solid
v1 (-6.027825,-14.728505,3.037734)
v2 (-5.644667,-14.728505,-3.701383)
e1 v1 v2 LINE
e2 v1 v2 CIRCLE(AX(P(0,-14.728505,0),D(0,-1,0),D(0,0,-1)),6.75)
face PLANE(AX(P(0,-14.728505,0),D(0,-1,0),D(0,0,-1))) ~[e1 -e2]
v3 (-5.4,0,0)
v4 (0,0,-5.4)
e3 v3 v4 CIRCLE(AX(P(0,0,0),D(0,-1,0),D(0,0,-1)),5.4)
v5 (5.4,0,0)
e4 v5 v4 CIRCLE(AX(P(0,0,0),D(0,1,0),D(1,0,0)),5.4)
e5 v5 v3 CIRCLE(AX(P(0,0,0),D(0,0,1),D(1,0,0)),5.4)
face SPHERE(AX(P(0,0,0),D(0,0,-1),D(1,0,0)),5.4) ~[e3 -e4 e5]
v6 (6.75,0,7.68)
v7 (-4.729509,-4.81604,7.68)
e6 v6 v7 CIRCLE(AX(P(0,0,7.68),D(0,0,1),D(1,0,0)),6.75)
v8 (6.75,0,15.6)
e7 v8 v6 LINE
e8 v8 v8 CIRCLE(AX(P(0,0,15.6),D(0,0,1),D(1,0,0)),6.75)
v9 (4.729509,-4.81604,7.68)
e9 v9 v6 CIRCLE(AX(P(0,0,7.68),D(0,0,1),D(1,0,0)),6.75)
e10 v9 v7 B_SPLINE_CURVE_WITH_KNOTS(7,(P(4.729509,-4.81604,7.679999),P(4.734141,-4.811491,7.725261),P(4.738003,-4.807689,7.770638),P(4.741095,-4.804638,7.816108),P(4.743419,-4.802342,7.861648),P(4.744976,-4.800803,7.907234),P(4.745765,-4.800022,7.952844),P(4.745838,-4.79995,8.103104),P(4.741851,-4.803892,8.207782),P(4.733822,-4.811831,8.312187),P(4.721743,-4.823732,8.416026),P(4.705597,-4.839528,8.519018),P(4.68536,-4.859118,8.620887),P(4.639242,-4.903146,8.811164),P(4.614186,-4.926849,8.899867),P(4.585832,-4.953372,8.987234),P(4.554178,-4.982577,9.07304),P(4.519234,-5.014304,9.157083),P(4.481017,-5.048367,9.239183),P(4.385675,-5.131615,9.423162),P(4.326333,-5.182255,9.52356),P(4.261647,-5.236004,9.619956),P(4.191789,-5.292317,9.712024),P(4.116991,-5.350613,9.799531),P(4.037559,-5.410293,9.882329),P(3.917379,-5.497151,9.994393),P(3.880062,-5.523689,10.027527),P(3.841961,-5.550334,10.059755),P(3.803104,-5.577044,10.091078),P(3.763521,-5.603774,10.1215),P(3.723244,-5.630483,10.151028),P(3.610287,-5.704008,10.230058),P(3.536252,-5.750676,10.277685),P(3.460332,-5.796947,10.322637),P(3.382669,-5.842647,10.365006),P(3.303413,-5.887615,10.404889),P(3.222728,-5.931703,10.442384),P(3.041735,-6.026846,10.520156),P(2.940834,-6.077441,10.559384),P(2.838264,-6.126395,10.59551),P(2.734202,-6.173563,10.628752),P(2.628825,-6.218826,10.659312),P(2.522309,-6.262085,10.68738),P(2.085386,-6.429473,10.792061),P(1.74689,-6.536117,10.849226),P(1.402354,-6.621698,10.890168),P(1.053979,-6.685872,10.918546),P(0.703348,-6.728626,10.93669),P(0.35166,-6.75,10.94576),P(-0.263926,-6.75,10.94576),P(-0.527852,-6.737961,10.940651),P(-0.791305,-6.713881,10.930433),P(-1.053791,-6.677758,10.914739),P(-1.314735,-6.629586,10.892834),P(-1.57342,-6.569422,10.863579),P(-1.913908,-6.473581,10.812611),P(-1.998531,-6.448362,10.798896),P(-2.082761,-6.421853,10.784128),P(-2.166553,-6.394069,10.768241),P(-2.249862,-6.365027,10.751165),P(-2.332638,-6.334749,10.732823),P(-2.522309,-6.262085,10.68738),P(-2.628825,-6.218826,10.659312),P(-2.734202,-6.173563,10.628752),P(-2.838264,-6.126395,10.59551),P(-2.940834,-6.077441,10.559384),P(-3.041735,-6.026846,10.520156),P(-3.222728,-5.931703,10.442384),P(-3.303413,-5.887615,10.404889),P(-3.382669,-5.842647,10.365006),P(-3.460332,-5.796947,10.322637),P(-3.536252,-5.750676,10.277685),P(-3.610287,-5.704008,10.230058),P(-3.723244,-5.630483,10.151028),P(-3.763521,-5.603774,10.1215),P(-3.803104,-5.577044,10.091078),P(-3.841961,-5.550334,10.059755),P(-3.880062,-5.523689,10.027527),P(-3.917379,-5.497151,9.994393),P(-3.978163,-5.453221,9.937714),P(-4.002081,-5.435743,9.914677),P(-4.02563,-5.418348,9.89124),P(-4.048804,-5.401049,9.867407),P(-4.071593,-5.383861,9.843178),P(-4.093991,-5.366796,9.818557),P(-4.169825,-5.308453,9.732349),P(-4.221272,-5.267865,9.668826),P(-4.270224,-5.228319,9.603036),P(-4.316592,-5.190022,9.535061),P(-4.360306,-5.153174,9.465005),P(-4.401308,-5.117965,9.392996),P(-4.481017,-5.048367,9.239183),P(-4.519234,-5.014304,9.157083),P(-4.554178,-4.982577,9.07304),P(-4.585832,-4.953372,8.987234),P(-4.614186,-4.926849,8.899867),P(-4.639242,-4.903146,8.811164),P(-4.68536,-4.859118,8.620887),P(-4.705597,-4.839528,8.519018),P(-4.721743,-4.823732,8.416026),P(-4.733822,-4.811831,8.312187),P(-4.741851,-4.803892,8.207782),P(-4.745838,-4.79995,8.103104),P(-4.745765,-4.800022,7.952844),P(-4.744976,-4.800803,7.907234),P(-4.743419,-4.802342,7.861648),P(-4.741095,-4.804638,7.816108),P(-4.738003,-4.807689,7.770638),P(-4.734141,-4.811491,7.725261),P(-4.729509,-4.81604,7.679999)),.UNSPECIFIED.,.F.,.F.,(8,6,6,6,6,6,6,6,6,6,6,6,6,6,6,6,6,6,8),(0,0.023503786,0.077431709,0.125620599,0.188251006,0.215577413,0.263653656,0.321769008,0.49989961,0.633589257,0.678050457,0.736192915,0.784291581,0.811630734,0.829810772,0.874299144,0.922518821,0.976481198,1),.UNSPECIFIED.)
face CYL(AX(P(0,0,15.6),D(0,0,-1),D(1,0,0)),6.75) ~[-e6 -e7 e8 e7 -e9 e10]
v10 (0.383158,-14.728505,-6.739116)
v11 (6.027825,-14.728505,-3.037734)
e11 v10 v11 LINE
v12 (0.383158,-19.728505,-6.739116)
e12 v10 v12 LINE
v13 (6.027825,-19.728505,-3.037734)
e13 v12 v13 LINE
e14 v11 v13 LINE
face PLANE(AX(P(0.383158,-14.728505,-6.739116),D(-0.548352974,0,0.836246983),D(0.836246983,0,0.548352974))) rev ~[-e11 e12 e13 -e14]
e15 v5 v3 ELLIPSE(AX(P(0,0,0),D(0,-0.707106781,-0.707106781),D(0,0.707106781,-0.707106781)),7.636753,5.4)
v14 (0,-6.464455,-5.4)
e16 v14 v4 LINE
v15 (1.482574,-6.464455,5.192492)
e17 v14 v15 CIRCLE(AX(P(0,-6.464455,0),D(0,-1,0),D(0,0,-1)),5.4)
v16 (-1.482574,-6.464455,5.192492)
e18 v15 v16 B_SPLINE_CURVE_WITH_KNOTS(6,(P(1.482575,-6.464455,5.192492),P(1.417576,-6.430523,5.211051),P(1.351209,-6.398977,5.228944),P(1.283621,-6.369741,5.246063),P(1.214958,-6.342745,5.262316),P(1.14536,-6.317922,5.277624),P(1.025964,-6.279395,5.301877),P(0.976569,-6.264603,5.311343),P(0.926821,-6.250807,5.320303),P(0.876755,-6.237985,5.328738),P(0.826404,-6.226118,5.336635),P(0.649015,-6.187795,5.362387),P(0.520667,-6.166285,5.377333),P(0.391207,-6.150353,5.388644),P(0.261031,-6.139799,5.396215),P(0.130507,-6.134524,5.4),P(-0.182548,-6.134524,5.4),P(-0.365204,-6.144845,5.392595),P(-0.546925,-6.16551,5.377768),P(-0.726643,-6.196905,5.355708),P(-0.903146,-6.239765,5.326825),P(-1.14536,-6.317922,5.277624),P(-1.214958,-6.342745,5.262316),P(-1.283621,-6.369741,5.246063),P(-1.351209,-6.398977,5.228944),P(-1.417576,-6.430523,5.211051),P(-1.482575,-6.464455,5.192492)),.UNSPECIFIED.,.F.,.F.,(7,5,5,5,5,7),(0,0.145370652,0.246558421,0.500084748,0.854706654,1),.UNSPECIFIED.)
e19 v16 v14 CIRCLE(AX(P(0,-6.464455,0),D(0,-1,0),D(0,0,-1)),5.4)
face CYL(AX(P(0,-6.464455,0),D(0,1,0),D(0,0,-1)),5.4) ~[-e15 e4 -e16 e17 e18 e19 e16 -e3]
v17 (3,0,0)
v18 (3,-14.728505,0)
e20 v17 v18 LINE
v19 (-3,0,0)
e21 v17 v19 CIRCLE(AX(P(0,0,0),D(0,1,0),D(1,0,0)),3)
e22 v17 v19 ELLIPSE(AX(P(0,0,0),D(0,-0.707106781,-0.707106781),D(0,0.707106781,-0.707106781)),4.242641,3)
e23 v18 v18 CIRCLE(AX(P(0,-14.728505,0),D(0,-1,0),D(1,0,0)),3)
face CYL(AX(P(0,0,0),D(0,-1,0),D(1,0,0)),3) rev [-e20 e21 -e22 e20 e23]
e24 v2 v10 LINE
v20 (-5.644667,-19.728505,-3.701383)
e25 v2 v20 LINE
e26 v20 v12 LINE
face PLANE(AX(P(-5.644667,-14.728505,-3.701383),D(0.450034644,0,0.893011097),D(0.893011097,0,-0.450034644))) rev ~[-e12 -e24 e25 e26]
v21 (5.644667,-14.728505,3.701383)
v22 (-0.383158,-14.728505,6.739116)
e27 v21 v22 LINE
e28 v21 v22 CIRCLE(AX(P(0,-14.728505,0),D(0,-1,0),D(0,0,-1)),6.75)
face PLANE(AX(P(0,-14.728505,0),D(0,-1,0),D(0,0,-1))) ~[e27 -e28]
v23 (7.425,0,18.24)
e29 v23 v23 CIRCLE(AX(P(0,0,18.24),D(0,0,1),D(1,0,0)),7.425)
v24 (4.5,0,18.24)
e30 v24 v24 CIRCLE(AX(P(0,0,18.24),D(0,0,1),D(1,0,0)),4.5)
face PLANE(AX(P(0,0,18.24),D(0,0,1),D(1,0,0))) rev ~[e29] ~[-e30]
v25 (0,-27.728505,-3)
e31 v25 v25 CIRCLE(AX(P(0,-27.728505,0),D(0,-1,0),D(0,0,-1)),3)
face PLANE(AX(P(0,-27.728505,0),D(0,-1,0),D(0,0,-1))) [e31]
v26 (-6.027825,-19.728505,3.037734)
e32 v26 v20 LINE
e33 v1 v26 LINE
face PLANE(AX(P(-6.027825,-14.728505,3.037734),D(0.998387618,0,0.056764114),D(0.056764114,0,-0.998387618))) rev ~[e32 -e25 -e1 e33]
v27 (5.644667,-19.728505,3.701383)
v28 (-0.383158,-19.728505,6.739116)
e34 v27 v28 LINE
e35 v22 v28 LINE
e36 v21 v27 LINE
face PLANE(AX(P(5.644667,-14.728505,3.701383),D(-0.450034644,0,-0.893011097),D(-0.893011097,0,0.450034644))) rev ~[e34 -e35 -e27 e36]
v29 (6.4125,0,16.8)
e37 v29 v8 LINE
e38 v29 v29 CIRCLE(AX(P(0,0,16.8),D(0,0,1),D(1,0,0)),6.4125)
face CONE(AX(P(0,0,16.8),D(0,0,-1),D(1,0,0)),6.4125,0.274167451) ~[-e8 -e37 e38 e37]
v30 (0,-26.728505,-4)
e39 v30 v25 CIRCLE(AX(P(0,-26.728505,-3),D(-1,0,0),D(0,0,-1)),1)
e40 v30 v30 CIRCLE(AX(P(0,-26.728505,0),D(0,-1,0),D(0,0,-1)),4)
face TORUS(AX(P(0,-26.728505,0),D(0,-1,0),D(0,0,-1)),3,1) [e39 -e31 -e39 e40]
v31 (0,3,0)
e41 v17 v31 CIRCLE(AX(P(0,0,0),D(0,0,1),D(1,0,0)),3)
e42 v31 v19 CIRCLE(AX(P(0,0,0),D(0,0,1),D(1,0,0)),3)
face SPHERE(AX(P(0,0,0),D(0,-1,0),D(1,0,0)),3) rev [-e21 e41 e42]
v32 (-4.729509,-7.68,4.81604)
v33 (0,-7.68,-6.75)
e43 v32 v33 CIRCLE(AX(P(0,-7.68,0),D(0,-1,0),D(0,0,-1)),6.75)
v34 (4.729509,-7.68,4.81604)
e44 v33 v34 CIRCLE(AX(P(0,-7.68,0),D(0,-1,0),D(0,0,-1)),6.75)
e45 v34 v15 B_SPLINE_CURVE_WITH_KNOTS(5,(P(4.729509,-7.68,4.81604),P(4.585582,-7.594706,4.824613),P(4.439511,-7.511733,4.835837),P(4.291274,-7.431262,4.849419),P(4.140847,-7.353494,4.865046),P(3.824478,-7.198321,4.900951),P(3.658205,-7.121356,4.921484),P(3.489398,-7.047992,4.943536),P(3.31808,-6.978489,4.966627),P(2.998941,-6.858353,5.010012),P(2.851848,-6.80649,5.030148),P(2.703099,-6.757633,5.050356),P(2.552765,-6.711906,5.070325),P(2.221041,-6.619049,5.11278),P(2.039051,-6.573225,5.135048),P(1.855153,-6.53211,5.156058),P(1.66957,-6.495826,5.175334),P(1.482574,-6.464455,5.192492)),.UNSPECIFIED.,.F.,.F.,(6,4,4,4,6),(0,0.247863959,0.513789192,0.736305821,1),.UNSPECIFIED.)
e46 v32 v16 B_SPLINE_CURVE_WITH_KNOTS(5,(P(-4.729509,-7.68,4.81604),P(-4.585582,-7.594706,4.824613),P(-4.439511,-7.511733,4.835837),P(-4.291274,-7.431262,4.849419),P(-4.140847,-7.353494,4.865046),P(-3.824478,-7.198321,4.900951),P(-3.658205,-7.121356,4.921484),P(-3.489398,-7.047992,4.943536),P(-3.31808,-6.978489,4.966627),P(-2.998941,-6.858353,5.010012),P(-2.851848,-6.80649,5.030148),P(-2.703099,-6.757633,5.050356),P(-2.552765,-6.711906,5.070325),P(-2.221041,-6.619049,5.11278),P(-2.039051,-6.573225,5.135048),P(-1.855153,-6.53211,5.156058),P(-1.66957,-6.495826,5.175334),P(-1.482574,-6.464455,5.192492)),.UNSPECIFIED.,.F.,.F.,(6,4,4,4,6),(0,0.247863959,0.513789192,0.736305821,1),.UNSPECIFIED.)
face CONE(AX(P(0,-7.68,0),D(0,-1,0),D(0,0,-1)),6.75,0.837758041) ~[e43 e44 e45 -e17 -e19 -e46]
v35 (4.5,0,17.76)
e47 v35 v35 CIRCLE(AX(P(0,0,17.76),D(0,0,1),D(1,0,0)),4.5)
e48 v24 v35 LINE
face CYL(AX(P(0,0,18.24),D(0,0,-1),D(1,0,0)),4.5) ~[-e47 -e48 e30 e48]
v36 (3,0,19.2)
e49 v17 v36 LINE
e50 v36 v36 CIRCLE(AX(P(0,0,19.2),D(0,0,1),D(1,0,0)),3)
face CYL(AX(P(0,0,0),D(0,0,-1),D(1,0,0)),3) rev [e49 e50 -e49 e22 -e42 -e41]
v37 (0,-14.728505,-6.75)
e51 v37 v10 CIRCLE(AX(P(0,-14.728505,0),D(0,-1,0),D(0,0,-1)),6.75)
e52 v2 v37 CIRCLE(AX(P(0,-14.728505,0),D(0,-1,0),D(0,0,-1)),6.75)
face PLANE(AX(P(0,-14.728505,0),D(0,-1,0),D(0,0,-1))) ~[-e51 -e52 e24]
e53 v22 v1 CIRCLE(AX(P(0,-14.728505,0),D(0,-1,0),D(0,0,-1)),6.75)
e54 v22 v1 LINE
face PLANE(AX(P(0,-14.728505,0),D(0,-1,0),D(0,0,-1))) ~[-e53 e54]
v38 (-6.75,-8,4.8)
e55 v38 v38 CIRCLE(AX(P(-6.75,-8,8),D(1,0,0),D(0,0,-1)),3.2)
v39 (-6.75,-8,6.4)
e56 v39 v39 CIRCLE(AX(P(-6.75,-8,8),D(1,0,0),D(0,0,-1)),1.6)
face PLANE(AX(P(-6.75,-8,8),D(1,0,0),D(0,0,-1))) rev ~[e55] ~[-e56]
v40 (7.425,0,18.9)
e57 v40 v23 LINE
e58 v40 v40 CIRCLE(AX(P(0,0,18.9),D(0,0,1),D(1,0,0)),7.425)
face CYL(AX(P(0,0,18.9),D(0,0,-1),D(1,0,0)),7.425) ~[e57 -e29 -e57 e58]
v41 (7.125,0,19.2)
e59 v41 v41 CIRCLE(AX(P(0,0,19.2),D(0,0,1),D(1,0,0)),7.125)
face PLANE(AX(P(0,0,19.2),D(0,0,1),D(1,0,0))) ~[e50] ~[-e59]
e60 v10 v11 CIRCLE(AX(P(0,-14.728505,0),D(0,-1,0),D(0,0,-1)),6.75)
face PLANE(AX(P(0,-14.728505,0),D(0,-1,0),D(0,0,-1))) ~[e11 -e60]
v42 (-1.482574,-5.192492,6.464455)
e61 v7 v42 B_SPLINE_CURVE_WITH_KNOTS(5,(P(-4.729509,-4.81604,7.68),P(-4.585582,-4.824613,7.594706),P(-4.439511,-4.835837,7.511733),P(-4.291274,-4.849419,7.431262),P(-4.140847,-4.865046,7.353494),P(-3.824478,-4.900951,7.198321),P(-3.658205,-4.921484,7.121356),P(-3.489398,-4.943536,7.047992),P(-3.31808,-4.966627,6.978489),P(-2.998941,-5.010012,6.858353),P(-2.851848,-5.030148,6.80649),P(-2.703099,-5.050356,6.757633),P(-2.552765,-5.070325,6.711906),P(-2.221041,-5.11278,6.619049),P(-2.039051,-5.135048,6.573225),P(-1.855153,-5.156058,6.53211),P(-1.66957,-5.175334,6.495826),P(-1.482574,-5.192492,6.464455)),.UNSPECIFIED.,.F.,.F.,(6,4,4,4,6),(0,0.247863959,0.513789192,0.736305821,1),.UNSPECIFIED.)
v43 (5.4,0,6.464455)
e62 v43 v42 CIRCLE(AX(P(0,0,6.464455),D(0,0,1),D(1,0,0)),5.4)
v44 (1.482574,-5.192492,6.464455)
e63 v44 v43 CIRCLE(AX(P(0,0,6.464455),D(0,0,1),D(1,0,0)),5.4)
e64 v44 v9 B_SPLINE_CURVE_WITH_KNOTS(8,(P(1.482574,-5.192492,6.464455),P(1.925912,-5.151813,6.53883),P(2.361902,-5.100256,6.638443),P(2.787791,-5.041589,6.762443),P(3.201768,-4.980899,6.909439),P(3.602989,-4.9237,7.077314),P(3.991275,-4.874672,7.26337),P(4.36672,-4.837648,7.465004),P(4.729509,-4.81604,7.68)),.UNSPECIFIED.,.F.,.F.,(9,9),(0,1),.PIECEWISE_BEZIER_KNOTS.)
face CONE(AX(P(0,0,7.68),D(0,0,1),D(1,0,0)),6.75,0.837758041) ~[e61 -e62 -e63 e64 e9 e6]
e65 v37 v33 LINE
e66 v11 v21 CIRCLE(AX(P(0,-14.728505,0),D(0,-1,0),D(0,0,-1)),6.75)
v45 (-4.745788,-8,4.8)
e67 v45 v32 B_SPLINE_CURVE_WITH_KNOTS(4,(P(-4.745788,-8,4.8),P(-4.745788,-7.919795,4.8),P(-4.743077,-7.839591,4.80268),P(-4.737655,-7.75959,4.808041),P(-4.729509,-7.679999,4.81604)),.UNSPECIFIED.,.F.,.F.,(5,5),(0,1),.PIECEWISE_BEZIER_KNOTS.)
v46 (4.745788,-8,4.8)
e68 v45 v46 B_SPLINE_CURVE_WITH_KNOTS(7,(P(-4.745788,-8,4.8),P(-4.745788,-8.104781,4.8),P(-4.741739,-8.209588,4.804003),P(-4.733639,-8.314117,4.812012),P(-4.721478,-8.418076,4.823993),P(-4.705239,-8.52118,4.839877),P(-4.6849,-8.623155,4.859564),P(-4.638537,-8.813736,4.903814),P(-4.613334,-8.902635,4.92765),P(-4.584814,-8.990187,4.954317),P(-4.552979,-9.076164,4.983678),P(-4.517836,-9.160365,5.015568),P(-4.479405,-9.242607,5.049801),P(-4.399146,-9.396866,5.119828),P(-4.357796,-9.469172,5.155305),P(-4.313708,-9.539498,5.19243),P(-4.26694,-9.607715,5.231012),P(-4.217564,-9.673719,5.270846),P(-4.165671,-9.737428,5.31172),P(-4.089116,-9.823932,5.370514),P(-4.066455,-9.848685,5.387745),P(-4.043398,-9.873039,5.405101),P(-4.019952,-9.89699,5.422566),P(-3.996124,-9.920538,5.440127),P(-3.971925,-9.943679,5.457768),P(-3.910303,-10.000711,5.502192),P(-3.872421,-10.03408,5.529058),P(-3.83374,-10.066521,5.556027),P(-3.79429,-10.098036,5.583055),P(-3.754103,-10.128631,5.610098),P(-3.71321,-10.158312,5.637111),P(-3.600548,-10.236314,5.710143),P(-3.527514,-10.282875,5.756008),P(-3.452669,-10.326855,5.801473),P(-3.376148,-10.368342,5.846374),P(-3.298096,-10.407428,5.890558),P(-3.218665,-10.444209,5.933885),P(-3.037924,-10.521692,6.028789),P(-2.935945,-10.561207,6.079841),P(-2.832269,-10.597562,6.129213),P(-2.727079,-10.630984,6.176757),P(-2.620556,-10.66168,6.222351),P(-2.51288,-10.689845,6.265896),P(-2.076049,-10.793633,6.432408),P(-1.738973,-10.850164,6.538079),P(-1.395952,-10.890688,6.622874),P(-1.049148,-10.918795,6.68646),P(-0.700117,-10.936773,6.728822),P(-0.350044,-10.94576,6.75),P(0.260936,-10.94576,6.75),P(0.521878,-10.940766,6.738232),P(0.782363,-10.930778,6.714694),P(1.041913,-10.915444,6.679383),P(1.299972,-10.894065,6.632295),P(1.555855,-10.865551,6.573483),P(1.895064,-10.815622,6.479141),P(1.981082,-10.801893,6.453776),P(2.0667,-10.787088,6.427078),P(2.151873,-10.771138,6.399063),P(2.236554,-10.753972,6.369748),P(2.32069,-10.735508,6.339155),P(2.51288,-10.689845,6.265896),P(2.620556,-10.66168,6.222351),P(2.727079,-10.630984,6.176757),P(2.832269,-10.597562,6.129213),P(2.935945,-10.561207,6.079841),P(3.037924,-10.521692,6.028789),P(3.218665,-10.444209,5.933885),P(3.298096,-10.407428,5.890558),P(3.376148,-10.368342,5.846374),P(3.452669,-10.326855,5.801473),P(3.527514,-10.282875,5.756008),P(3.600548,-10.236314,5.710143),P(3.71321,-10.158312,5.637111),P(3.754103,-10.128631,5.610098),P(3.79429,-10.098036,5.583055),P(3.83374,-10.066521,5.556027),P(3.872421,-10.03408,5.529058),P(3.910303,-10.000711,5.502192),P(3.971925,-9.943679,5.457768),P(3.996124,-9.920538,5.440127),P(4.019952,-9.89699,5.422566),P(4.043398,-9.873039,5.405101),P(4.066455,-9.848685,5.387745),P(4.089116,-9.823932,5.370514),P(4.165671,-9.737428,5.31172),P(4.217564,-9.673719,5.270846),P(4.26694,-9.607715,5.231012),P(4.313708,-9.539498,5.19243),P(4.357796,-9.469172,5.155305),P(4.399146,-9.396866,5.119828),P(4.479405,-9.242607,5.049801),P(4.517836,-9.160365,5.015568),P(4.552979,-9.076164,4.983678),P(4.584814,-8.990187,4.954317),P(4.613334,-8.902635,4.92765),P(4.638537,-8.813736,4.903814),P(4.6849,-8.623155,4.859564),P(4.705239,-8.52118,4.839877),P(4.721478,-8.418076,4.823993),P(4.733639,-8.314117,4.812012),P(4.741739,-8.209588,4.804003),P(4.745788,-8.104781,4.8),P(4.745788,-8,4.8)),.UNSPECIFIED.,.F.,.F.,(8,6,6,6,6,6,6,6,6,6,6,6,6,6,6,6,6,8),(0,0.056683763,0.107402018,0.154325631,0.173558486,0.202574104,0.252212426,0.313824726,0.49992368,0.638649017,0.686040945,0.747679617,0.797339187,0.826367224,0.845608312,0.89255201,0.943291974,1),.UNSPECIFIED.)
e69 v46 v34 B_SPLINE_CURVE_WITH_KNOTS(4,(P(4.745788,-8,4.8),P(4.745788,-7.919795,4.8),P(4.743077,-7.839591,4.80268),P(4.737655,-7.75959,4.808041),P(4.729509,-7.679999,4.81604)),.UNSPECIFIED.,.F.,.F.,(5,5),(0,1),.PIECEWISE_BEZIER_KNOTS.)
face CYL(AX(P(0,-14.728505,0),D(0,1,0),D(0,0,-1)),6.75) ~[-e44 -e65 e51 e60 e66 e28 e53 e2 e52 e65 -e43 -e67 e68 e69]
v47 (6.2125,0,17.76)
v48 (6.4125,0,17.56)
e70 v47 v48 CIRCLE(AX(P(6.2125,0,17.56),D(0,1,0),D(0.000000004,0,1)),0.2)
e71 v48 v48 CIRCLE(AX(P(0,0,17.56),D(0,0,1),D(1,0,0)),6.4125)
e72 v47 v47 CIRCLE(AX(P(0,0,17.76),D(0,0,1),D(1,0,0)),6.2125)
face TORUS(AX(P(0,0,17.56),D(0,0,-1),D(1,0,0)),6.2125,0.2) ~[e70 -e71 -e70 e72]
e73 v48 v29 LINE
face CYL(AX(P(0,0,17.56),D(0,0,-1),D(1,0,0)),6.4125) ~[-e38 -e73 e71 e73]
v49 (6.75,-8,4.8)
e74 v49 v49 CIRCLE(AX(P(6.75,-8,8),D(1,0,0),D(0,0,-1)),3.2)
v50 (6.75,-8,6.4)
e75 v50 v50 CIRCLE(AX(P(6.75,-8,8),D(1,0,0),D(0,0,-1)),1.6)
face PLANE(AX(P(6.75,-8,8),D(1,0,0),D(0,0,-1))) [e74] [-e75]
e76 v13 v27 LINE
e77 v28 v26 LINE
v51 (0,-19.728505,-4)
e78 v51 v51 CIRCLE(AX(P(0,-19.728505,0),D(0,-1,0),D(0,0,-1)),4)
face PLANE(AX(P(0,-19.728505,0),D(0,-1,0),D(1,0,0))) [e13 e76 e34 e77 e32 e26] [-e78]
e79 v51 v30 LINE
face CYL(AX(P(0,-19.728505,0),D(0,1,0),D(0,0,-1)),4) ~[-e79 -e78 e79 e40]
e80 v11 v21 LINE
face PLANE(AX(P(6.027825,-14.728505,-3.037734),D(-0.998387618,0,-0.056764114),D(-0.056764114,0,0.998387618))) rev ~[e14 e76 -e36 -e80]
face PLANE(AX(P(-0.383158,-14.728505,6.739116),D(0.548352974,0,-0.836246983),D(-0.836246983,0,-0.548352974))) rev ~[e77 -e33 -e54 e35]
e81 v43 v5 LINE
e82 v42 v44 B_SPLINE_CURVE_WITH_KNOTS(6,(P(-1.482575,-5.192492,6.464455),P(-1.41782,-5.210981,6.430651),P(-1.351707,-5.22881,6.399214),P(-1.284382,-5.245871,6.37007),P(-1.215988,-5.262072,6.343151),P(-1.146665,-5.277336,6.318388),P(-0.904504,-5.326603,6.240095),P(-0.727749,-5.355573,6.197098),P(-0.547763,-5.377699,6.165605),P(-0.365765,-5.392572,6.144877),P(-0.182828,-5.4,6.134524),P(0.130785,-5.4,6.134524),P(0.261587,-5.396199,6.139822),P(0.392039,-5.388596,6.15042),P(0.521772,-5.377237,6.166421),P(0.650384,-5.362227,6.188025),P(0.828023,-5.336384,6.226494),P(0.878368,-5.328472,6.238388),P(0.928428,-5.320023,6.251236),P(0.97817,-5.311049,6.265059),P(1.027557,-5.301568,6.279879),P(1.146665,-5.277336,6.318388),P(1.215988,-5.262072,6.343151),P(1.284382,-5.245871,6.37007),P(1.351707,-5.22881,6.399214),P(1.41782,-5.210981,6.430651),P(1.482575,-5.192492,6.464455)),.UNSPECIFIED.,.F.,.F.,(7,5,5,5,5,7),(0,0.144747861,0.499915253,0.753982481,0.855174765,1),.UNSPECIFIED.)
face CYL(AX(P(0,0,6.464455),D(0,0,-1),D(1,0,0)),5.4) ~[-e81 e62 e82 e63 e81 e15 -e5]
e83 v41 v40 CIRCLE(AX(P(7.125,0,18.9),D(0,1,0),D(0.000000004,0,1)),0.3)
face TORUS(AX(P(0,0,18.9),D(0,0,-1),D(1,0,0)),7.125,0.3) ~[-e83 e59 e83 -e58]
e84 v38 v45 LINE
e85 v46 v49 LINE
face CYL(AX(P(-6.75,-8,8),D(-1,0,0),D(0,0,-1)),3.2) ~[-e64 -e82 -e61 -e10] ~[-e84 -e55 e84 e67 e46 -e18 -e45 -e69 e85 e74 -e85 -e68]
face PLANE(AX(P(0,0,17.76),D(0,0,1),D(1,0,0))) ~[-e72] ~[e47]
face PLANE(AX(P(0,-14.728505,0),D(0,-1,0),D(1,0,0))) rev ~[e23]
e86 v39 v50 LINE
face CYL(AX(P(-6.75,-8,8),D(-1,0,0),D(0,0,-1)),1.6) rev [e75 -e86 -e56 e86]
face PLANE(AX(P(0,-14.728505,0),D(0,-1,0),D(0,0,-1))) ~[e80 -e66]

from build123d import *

# Parameters (mm, degrees)
SKETCH_3_R               = 3
CUT_EXTRUDE_1_DEPTH      = 19.2
EXTRUDE_1_DEPTH          = 6.75
EXTRUDE_1_DEPTH_BACK     = 6.75
SKETCH_5_R               = 3.2
CUT_EXTRUDE_2_DEPTH      = 6.75
CUT_EXTRUDE_2_DEPTH_BACK = 6.75
SKETCH_6_R               = 1.6
EXTRUDE_2_DEPTH          = 5
SKETCH_8_R               = 4
EXTRUDE_3_DEPTH          = 8
FILLET_1_R               = 1


with BuildPart() as part:
    # 草图1 → 旋转1 (revolve)
    with BuildSketch(Plane(origin=(0, 0, 0), x_dir=(0, 0, -1), z_dir=(1, 0, 0))):
        with BuildLine():
            Line((-19.2, 0), (-19.2, 7.125))
            ThreePointArc((-19.2, 7.125), (-19.112132034, 7.337132034), (-18.9, 7.425))
            Line((-18.9, 7.425), (-18.24, 7.425))
            Line((-18.24, 7.425), (-18.24, 4.5))
            Line((-18.24, 4.5), (-17.76, 4.5))
            Line((-17.76, 4.5), (-17.76, 6.2125))
            ThreePointArc((-17.76, 6.2125), (-17.701421356, 6.353921356), (-17.56, 6.4125))
            Line((-17.56, 6.4125), (-16.8, 6.4125))
            Line((-16.8, 6.4125), (-15.6, 6.75))
            Line((-15.6, 6.75), (-7.68, 6.75))
            Line((-7.68, 6.75), (-6.46445454, 5.4))
            Line((-6.46445454, 5.4), (0, 5.4))
            ThreePointArc((0, 5.4), (3.818376618, 3.818376618), (5.4, 0))
            Line((5.4, 0), (-19.2, 0))
        make_face()
    revolve(axis=Axis((0, 0, -5.4), (0, 0, 1)))

    # 草图2 → 旋转2 (revolve)
    with BuildSketch(Plane(origin=(0, 0, 0), x_dir=(0, 0, -1), z_dir=(1, 0, 0))):
        Polygon((-6.75, -14.728504785), (-6.75, -7.68), (-5.4, -6.46445454), (-5.4, 0), (0, 0), (0, -14.728504785), align=None)
    revolve(axis=Axis((0, 0, 0), (0, -1, 0)))

    # 草图3 → 切除-拉伸1 (cut)
    with BuildSketch(Plane.XY):
        Circle(SKETCH_3_R)
    extrude(amount=CUT_EXTRUDE_1_DEPTH, mode=Mode.SUBTRACT)

    # 草图5 → 凸台-拉伸1 (add, two sides: drawn at the far end of the back side and taken through both)
    with BuildSketch(Plane(origin=(0, 0, 0), x_dir=(0, 0, -1), z_dir=(1, 0, 0)).offset(-EXTRUDE_1_DEPTH_BACK)):
        with Locations((-8, -8)):
            Circle(SKETCH_5_R)
    extrude(amount=EXTRUDE_1_DEPTH + EXTRUDE_1_DEPTH_BACK)

    # 草图6 → 切除-拉伸2 (cut, two sides: drawn at the far end of the back side and taken through both)
    with BuildSketch(Plane(origin=(0, 0, 0), x_dir=(0, 0, -1), z_dir=(1, 0, 0)).offset(-CUT_EXTRUDE_2_DEPTH_BACK)):
        with Locations((-8, -8)):
            Circle(SKETCH_6_R)
    extrude(amount=CUT_EXTRUDE_2_DEPTH + CUT_EXTRUDE_2_DEPTH_BACK, mode=Mode.SUBTRACT)

    # 草图4 → 切除-旋转1 (revolve, cut)
    with BuildSketch(Plane(origin=(0, 0, 0), x_dir=(0, 0, -1), z_dir=(1, 0, 0))):
        with BuildLine():
            Line((3, 0), (3, -39.2))
            Line((3, -39.2), (0, -39.2))
            Line((0, -39.2), (0, 3))
            ThreePointArc((0, 3), (2.121320344, 2.121320344), (3, 0))
        make_face()
    revolve(axis=Axis((0, -19.2, 0), (0, 1, 0)), mode=Mode.SUBTRACT)

    # 草图7 → 凸台-拉伸2 (add)
    with BuildSketch(Plane.XZ.offset(14.728504785)):
        Polygon((-5.644667133, -3.701382574), (0.383157772, -6.73911642), (6.027824905, -3.037733846), (5.644667133, 3.701382574), (-0.383157772, 6.73911642), (-6.027824905, 3.037733846), align=None)
    extrude(amount=EXTRUDE_2_DEPTH)

    # 草图8 → 凸台-拉伸3 (add)
    with BuildSketch(Plane.XZ.offset(19.728504785)):
        Circle(SKETCH_8_R)
    extrude(amount=EXTRUDE_3_DEPTH)

    # 圆角1
    fillet_1_edges = [part.edges().sort_by_distance(p)[0] for p in [
        (-4, -27.728504785, 0),
    ]]
    fillet(fillet_1_edges, radius=FILLET_1_R)


solid = part.part
